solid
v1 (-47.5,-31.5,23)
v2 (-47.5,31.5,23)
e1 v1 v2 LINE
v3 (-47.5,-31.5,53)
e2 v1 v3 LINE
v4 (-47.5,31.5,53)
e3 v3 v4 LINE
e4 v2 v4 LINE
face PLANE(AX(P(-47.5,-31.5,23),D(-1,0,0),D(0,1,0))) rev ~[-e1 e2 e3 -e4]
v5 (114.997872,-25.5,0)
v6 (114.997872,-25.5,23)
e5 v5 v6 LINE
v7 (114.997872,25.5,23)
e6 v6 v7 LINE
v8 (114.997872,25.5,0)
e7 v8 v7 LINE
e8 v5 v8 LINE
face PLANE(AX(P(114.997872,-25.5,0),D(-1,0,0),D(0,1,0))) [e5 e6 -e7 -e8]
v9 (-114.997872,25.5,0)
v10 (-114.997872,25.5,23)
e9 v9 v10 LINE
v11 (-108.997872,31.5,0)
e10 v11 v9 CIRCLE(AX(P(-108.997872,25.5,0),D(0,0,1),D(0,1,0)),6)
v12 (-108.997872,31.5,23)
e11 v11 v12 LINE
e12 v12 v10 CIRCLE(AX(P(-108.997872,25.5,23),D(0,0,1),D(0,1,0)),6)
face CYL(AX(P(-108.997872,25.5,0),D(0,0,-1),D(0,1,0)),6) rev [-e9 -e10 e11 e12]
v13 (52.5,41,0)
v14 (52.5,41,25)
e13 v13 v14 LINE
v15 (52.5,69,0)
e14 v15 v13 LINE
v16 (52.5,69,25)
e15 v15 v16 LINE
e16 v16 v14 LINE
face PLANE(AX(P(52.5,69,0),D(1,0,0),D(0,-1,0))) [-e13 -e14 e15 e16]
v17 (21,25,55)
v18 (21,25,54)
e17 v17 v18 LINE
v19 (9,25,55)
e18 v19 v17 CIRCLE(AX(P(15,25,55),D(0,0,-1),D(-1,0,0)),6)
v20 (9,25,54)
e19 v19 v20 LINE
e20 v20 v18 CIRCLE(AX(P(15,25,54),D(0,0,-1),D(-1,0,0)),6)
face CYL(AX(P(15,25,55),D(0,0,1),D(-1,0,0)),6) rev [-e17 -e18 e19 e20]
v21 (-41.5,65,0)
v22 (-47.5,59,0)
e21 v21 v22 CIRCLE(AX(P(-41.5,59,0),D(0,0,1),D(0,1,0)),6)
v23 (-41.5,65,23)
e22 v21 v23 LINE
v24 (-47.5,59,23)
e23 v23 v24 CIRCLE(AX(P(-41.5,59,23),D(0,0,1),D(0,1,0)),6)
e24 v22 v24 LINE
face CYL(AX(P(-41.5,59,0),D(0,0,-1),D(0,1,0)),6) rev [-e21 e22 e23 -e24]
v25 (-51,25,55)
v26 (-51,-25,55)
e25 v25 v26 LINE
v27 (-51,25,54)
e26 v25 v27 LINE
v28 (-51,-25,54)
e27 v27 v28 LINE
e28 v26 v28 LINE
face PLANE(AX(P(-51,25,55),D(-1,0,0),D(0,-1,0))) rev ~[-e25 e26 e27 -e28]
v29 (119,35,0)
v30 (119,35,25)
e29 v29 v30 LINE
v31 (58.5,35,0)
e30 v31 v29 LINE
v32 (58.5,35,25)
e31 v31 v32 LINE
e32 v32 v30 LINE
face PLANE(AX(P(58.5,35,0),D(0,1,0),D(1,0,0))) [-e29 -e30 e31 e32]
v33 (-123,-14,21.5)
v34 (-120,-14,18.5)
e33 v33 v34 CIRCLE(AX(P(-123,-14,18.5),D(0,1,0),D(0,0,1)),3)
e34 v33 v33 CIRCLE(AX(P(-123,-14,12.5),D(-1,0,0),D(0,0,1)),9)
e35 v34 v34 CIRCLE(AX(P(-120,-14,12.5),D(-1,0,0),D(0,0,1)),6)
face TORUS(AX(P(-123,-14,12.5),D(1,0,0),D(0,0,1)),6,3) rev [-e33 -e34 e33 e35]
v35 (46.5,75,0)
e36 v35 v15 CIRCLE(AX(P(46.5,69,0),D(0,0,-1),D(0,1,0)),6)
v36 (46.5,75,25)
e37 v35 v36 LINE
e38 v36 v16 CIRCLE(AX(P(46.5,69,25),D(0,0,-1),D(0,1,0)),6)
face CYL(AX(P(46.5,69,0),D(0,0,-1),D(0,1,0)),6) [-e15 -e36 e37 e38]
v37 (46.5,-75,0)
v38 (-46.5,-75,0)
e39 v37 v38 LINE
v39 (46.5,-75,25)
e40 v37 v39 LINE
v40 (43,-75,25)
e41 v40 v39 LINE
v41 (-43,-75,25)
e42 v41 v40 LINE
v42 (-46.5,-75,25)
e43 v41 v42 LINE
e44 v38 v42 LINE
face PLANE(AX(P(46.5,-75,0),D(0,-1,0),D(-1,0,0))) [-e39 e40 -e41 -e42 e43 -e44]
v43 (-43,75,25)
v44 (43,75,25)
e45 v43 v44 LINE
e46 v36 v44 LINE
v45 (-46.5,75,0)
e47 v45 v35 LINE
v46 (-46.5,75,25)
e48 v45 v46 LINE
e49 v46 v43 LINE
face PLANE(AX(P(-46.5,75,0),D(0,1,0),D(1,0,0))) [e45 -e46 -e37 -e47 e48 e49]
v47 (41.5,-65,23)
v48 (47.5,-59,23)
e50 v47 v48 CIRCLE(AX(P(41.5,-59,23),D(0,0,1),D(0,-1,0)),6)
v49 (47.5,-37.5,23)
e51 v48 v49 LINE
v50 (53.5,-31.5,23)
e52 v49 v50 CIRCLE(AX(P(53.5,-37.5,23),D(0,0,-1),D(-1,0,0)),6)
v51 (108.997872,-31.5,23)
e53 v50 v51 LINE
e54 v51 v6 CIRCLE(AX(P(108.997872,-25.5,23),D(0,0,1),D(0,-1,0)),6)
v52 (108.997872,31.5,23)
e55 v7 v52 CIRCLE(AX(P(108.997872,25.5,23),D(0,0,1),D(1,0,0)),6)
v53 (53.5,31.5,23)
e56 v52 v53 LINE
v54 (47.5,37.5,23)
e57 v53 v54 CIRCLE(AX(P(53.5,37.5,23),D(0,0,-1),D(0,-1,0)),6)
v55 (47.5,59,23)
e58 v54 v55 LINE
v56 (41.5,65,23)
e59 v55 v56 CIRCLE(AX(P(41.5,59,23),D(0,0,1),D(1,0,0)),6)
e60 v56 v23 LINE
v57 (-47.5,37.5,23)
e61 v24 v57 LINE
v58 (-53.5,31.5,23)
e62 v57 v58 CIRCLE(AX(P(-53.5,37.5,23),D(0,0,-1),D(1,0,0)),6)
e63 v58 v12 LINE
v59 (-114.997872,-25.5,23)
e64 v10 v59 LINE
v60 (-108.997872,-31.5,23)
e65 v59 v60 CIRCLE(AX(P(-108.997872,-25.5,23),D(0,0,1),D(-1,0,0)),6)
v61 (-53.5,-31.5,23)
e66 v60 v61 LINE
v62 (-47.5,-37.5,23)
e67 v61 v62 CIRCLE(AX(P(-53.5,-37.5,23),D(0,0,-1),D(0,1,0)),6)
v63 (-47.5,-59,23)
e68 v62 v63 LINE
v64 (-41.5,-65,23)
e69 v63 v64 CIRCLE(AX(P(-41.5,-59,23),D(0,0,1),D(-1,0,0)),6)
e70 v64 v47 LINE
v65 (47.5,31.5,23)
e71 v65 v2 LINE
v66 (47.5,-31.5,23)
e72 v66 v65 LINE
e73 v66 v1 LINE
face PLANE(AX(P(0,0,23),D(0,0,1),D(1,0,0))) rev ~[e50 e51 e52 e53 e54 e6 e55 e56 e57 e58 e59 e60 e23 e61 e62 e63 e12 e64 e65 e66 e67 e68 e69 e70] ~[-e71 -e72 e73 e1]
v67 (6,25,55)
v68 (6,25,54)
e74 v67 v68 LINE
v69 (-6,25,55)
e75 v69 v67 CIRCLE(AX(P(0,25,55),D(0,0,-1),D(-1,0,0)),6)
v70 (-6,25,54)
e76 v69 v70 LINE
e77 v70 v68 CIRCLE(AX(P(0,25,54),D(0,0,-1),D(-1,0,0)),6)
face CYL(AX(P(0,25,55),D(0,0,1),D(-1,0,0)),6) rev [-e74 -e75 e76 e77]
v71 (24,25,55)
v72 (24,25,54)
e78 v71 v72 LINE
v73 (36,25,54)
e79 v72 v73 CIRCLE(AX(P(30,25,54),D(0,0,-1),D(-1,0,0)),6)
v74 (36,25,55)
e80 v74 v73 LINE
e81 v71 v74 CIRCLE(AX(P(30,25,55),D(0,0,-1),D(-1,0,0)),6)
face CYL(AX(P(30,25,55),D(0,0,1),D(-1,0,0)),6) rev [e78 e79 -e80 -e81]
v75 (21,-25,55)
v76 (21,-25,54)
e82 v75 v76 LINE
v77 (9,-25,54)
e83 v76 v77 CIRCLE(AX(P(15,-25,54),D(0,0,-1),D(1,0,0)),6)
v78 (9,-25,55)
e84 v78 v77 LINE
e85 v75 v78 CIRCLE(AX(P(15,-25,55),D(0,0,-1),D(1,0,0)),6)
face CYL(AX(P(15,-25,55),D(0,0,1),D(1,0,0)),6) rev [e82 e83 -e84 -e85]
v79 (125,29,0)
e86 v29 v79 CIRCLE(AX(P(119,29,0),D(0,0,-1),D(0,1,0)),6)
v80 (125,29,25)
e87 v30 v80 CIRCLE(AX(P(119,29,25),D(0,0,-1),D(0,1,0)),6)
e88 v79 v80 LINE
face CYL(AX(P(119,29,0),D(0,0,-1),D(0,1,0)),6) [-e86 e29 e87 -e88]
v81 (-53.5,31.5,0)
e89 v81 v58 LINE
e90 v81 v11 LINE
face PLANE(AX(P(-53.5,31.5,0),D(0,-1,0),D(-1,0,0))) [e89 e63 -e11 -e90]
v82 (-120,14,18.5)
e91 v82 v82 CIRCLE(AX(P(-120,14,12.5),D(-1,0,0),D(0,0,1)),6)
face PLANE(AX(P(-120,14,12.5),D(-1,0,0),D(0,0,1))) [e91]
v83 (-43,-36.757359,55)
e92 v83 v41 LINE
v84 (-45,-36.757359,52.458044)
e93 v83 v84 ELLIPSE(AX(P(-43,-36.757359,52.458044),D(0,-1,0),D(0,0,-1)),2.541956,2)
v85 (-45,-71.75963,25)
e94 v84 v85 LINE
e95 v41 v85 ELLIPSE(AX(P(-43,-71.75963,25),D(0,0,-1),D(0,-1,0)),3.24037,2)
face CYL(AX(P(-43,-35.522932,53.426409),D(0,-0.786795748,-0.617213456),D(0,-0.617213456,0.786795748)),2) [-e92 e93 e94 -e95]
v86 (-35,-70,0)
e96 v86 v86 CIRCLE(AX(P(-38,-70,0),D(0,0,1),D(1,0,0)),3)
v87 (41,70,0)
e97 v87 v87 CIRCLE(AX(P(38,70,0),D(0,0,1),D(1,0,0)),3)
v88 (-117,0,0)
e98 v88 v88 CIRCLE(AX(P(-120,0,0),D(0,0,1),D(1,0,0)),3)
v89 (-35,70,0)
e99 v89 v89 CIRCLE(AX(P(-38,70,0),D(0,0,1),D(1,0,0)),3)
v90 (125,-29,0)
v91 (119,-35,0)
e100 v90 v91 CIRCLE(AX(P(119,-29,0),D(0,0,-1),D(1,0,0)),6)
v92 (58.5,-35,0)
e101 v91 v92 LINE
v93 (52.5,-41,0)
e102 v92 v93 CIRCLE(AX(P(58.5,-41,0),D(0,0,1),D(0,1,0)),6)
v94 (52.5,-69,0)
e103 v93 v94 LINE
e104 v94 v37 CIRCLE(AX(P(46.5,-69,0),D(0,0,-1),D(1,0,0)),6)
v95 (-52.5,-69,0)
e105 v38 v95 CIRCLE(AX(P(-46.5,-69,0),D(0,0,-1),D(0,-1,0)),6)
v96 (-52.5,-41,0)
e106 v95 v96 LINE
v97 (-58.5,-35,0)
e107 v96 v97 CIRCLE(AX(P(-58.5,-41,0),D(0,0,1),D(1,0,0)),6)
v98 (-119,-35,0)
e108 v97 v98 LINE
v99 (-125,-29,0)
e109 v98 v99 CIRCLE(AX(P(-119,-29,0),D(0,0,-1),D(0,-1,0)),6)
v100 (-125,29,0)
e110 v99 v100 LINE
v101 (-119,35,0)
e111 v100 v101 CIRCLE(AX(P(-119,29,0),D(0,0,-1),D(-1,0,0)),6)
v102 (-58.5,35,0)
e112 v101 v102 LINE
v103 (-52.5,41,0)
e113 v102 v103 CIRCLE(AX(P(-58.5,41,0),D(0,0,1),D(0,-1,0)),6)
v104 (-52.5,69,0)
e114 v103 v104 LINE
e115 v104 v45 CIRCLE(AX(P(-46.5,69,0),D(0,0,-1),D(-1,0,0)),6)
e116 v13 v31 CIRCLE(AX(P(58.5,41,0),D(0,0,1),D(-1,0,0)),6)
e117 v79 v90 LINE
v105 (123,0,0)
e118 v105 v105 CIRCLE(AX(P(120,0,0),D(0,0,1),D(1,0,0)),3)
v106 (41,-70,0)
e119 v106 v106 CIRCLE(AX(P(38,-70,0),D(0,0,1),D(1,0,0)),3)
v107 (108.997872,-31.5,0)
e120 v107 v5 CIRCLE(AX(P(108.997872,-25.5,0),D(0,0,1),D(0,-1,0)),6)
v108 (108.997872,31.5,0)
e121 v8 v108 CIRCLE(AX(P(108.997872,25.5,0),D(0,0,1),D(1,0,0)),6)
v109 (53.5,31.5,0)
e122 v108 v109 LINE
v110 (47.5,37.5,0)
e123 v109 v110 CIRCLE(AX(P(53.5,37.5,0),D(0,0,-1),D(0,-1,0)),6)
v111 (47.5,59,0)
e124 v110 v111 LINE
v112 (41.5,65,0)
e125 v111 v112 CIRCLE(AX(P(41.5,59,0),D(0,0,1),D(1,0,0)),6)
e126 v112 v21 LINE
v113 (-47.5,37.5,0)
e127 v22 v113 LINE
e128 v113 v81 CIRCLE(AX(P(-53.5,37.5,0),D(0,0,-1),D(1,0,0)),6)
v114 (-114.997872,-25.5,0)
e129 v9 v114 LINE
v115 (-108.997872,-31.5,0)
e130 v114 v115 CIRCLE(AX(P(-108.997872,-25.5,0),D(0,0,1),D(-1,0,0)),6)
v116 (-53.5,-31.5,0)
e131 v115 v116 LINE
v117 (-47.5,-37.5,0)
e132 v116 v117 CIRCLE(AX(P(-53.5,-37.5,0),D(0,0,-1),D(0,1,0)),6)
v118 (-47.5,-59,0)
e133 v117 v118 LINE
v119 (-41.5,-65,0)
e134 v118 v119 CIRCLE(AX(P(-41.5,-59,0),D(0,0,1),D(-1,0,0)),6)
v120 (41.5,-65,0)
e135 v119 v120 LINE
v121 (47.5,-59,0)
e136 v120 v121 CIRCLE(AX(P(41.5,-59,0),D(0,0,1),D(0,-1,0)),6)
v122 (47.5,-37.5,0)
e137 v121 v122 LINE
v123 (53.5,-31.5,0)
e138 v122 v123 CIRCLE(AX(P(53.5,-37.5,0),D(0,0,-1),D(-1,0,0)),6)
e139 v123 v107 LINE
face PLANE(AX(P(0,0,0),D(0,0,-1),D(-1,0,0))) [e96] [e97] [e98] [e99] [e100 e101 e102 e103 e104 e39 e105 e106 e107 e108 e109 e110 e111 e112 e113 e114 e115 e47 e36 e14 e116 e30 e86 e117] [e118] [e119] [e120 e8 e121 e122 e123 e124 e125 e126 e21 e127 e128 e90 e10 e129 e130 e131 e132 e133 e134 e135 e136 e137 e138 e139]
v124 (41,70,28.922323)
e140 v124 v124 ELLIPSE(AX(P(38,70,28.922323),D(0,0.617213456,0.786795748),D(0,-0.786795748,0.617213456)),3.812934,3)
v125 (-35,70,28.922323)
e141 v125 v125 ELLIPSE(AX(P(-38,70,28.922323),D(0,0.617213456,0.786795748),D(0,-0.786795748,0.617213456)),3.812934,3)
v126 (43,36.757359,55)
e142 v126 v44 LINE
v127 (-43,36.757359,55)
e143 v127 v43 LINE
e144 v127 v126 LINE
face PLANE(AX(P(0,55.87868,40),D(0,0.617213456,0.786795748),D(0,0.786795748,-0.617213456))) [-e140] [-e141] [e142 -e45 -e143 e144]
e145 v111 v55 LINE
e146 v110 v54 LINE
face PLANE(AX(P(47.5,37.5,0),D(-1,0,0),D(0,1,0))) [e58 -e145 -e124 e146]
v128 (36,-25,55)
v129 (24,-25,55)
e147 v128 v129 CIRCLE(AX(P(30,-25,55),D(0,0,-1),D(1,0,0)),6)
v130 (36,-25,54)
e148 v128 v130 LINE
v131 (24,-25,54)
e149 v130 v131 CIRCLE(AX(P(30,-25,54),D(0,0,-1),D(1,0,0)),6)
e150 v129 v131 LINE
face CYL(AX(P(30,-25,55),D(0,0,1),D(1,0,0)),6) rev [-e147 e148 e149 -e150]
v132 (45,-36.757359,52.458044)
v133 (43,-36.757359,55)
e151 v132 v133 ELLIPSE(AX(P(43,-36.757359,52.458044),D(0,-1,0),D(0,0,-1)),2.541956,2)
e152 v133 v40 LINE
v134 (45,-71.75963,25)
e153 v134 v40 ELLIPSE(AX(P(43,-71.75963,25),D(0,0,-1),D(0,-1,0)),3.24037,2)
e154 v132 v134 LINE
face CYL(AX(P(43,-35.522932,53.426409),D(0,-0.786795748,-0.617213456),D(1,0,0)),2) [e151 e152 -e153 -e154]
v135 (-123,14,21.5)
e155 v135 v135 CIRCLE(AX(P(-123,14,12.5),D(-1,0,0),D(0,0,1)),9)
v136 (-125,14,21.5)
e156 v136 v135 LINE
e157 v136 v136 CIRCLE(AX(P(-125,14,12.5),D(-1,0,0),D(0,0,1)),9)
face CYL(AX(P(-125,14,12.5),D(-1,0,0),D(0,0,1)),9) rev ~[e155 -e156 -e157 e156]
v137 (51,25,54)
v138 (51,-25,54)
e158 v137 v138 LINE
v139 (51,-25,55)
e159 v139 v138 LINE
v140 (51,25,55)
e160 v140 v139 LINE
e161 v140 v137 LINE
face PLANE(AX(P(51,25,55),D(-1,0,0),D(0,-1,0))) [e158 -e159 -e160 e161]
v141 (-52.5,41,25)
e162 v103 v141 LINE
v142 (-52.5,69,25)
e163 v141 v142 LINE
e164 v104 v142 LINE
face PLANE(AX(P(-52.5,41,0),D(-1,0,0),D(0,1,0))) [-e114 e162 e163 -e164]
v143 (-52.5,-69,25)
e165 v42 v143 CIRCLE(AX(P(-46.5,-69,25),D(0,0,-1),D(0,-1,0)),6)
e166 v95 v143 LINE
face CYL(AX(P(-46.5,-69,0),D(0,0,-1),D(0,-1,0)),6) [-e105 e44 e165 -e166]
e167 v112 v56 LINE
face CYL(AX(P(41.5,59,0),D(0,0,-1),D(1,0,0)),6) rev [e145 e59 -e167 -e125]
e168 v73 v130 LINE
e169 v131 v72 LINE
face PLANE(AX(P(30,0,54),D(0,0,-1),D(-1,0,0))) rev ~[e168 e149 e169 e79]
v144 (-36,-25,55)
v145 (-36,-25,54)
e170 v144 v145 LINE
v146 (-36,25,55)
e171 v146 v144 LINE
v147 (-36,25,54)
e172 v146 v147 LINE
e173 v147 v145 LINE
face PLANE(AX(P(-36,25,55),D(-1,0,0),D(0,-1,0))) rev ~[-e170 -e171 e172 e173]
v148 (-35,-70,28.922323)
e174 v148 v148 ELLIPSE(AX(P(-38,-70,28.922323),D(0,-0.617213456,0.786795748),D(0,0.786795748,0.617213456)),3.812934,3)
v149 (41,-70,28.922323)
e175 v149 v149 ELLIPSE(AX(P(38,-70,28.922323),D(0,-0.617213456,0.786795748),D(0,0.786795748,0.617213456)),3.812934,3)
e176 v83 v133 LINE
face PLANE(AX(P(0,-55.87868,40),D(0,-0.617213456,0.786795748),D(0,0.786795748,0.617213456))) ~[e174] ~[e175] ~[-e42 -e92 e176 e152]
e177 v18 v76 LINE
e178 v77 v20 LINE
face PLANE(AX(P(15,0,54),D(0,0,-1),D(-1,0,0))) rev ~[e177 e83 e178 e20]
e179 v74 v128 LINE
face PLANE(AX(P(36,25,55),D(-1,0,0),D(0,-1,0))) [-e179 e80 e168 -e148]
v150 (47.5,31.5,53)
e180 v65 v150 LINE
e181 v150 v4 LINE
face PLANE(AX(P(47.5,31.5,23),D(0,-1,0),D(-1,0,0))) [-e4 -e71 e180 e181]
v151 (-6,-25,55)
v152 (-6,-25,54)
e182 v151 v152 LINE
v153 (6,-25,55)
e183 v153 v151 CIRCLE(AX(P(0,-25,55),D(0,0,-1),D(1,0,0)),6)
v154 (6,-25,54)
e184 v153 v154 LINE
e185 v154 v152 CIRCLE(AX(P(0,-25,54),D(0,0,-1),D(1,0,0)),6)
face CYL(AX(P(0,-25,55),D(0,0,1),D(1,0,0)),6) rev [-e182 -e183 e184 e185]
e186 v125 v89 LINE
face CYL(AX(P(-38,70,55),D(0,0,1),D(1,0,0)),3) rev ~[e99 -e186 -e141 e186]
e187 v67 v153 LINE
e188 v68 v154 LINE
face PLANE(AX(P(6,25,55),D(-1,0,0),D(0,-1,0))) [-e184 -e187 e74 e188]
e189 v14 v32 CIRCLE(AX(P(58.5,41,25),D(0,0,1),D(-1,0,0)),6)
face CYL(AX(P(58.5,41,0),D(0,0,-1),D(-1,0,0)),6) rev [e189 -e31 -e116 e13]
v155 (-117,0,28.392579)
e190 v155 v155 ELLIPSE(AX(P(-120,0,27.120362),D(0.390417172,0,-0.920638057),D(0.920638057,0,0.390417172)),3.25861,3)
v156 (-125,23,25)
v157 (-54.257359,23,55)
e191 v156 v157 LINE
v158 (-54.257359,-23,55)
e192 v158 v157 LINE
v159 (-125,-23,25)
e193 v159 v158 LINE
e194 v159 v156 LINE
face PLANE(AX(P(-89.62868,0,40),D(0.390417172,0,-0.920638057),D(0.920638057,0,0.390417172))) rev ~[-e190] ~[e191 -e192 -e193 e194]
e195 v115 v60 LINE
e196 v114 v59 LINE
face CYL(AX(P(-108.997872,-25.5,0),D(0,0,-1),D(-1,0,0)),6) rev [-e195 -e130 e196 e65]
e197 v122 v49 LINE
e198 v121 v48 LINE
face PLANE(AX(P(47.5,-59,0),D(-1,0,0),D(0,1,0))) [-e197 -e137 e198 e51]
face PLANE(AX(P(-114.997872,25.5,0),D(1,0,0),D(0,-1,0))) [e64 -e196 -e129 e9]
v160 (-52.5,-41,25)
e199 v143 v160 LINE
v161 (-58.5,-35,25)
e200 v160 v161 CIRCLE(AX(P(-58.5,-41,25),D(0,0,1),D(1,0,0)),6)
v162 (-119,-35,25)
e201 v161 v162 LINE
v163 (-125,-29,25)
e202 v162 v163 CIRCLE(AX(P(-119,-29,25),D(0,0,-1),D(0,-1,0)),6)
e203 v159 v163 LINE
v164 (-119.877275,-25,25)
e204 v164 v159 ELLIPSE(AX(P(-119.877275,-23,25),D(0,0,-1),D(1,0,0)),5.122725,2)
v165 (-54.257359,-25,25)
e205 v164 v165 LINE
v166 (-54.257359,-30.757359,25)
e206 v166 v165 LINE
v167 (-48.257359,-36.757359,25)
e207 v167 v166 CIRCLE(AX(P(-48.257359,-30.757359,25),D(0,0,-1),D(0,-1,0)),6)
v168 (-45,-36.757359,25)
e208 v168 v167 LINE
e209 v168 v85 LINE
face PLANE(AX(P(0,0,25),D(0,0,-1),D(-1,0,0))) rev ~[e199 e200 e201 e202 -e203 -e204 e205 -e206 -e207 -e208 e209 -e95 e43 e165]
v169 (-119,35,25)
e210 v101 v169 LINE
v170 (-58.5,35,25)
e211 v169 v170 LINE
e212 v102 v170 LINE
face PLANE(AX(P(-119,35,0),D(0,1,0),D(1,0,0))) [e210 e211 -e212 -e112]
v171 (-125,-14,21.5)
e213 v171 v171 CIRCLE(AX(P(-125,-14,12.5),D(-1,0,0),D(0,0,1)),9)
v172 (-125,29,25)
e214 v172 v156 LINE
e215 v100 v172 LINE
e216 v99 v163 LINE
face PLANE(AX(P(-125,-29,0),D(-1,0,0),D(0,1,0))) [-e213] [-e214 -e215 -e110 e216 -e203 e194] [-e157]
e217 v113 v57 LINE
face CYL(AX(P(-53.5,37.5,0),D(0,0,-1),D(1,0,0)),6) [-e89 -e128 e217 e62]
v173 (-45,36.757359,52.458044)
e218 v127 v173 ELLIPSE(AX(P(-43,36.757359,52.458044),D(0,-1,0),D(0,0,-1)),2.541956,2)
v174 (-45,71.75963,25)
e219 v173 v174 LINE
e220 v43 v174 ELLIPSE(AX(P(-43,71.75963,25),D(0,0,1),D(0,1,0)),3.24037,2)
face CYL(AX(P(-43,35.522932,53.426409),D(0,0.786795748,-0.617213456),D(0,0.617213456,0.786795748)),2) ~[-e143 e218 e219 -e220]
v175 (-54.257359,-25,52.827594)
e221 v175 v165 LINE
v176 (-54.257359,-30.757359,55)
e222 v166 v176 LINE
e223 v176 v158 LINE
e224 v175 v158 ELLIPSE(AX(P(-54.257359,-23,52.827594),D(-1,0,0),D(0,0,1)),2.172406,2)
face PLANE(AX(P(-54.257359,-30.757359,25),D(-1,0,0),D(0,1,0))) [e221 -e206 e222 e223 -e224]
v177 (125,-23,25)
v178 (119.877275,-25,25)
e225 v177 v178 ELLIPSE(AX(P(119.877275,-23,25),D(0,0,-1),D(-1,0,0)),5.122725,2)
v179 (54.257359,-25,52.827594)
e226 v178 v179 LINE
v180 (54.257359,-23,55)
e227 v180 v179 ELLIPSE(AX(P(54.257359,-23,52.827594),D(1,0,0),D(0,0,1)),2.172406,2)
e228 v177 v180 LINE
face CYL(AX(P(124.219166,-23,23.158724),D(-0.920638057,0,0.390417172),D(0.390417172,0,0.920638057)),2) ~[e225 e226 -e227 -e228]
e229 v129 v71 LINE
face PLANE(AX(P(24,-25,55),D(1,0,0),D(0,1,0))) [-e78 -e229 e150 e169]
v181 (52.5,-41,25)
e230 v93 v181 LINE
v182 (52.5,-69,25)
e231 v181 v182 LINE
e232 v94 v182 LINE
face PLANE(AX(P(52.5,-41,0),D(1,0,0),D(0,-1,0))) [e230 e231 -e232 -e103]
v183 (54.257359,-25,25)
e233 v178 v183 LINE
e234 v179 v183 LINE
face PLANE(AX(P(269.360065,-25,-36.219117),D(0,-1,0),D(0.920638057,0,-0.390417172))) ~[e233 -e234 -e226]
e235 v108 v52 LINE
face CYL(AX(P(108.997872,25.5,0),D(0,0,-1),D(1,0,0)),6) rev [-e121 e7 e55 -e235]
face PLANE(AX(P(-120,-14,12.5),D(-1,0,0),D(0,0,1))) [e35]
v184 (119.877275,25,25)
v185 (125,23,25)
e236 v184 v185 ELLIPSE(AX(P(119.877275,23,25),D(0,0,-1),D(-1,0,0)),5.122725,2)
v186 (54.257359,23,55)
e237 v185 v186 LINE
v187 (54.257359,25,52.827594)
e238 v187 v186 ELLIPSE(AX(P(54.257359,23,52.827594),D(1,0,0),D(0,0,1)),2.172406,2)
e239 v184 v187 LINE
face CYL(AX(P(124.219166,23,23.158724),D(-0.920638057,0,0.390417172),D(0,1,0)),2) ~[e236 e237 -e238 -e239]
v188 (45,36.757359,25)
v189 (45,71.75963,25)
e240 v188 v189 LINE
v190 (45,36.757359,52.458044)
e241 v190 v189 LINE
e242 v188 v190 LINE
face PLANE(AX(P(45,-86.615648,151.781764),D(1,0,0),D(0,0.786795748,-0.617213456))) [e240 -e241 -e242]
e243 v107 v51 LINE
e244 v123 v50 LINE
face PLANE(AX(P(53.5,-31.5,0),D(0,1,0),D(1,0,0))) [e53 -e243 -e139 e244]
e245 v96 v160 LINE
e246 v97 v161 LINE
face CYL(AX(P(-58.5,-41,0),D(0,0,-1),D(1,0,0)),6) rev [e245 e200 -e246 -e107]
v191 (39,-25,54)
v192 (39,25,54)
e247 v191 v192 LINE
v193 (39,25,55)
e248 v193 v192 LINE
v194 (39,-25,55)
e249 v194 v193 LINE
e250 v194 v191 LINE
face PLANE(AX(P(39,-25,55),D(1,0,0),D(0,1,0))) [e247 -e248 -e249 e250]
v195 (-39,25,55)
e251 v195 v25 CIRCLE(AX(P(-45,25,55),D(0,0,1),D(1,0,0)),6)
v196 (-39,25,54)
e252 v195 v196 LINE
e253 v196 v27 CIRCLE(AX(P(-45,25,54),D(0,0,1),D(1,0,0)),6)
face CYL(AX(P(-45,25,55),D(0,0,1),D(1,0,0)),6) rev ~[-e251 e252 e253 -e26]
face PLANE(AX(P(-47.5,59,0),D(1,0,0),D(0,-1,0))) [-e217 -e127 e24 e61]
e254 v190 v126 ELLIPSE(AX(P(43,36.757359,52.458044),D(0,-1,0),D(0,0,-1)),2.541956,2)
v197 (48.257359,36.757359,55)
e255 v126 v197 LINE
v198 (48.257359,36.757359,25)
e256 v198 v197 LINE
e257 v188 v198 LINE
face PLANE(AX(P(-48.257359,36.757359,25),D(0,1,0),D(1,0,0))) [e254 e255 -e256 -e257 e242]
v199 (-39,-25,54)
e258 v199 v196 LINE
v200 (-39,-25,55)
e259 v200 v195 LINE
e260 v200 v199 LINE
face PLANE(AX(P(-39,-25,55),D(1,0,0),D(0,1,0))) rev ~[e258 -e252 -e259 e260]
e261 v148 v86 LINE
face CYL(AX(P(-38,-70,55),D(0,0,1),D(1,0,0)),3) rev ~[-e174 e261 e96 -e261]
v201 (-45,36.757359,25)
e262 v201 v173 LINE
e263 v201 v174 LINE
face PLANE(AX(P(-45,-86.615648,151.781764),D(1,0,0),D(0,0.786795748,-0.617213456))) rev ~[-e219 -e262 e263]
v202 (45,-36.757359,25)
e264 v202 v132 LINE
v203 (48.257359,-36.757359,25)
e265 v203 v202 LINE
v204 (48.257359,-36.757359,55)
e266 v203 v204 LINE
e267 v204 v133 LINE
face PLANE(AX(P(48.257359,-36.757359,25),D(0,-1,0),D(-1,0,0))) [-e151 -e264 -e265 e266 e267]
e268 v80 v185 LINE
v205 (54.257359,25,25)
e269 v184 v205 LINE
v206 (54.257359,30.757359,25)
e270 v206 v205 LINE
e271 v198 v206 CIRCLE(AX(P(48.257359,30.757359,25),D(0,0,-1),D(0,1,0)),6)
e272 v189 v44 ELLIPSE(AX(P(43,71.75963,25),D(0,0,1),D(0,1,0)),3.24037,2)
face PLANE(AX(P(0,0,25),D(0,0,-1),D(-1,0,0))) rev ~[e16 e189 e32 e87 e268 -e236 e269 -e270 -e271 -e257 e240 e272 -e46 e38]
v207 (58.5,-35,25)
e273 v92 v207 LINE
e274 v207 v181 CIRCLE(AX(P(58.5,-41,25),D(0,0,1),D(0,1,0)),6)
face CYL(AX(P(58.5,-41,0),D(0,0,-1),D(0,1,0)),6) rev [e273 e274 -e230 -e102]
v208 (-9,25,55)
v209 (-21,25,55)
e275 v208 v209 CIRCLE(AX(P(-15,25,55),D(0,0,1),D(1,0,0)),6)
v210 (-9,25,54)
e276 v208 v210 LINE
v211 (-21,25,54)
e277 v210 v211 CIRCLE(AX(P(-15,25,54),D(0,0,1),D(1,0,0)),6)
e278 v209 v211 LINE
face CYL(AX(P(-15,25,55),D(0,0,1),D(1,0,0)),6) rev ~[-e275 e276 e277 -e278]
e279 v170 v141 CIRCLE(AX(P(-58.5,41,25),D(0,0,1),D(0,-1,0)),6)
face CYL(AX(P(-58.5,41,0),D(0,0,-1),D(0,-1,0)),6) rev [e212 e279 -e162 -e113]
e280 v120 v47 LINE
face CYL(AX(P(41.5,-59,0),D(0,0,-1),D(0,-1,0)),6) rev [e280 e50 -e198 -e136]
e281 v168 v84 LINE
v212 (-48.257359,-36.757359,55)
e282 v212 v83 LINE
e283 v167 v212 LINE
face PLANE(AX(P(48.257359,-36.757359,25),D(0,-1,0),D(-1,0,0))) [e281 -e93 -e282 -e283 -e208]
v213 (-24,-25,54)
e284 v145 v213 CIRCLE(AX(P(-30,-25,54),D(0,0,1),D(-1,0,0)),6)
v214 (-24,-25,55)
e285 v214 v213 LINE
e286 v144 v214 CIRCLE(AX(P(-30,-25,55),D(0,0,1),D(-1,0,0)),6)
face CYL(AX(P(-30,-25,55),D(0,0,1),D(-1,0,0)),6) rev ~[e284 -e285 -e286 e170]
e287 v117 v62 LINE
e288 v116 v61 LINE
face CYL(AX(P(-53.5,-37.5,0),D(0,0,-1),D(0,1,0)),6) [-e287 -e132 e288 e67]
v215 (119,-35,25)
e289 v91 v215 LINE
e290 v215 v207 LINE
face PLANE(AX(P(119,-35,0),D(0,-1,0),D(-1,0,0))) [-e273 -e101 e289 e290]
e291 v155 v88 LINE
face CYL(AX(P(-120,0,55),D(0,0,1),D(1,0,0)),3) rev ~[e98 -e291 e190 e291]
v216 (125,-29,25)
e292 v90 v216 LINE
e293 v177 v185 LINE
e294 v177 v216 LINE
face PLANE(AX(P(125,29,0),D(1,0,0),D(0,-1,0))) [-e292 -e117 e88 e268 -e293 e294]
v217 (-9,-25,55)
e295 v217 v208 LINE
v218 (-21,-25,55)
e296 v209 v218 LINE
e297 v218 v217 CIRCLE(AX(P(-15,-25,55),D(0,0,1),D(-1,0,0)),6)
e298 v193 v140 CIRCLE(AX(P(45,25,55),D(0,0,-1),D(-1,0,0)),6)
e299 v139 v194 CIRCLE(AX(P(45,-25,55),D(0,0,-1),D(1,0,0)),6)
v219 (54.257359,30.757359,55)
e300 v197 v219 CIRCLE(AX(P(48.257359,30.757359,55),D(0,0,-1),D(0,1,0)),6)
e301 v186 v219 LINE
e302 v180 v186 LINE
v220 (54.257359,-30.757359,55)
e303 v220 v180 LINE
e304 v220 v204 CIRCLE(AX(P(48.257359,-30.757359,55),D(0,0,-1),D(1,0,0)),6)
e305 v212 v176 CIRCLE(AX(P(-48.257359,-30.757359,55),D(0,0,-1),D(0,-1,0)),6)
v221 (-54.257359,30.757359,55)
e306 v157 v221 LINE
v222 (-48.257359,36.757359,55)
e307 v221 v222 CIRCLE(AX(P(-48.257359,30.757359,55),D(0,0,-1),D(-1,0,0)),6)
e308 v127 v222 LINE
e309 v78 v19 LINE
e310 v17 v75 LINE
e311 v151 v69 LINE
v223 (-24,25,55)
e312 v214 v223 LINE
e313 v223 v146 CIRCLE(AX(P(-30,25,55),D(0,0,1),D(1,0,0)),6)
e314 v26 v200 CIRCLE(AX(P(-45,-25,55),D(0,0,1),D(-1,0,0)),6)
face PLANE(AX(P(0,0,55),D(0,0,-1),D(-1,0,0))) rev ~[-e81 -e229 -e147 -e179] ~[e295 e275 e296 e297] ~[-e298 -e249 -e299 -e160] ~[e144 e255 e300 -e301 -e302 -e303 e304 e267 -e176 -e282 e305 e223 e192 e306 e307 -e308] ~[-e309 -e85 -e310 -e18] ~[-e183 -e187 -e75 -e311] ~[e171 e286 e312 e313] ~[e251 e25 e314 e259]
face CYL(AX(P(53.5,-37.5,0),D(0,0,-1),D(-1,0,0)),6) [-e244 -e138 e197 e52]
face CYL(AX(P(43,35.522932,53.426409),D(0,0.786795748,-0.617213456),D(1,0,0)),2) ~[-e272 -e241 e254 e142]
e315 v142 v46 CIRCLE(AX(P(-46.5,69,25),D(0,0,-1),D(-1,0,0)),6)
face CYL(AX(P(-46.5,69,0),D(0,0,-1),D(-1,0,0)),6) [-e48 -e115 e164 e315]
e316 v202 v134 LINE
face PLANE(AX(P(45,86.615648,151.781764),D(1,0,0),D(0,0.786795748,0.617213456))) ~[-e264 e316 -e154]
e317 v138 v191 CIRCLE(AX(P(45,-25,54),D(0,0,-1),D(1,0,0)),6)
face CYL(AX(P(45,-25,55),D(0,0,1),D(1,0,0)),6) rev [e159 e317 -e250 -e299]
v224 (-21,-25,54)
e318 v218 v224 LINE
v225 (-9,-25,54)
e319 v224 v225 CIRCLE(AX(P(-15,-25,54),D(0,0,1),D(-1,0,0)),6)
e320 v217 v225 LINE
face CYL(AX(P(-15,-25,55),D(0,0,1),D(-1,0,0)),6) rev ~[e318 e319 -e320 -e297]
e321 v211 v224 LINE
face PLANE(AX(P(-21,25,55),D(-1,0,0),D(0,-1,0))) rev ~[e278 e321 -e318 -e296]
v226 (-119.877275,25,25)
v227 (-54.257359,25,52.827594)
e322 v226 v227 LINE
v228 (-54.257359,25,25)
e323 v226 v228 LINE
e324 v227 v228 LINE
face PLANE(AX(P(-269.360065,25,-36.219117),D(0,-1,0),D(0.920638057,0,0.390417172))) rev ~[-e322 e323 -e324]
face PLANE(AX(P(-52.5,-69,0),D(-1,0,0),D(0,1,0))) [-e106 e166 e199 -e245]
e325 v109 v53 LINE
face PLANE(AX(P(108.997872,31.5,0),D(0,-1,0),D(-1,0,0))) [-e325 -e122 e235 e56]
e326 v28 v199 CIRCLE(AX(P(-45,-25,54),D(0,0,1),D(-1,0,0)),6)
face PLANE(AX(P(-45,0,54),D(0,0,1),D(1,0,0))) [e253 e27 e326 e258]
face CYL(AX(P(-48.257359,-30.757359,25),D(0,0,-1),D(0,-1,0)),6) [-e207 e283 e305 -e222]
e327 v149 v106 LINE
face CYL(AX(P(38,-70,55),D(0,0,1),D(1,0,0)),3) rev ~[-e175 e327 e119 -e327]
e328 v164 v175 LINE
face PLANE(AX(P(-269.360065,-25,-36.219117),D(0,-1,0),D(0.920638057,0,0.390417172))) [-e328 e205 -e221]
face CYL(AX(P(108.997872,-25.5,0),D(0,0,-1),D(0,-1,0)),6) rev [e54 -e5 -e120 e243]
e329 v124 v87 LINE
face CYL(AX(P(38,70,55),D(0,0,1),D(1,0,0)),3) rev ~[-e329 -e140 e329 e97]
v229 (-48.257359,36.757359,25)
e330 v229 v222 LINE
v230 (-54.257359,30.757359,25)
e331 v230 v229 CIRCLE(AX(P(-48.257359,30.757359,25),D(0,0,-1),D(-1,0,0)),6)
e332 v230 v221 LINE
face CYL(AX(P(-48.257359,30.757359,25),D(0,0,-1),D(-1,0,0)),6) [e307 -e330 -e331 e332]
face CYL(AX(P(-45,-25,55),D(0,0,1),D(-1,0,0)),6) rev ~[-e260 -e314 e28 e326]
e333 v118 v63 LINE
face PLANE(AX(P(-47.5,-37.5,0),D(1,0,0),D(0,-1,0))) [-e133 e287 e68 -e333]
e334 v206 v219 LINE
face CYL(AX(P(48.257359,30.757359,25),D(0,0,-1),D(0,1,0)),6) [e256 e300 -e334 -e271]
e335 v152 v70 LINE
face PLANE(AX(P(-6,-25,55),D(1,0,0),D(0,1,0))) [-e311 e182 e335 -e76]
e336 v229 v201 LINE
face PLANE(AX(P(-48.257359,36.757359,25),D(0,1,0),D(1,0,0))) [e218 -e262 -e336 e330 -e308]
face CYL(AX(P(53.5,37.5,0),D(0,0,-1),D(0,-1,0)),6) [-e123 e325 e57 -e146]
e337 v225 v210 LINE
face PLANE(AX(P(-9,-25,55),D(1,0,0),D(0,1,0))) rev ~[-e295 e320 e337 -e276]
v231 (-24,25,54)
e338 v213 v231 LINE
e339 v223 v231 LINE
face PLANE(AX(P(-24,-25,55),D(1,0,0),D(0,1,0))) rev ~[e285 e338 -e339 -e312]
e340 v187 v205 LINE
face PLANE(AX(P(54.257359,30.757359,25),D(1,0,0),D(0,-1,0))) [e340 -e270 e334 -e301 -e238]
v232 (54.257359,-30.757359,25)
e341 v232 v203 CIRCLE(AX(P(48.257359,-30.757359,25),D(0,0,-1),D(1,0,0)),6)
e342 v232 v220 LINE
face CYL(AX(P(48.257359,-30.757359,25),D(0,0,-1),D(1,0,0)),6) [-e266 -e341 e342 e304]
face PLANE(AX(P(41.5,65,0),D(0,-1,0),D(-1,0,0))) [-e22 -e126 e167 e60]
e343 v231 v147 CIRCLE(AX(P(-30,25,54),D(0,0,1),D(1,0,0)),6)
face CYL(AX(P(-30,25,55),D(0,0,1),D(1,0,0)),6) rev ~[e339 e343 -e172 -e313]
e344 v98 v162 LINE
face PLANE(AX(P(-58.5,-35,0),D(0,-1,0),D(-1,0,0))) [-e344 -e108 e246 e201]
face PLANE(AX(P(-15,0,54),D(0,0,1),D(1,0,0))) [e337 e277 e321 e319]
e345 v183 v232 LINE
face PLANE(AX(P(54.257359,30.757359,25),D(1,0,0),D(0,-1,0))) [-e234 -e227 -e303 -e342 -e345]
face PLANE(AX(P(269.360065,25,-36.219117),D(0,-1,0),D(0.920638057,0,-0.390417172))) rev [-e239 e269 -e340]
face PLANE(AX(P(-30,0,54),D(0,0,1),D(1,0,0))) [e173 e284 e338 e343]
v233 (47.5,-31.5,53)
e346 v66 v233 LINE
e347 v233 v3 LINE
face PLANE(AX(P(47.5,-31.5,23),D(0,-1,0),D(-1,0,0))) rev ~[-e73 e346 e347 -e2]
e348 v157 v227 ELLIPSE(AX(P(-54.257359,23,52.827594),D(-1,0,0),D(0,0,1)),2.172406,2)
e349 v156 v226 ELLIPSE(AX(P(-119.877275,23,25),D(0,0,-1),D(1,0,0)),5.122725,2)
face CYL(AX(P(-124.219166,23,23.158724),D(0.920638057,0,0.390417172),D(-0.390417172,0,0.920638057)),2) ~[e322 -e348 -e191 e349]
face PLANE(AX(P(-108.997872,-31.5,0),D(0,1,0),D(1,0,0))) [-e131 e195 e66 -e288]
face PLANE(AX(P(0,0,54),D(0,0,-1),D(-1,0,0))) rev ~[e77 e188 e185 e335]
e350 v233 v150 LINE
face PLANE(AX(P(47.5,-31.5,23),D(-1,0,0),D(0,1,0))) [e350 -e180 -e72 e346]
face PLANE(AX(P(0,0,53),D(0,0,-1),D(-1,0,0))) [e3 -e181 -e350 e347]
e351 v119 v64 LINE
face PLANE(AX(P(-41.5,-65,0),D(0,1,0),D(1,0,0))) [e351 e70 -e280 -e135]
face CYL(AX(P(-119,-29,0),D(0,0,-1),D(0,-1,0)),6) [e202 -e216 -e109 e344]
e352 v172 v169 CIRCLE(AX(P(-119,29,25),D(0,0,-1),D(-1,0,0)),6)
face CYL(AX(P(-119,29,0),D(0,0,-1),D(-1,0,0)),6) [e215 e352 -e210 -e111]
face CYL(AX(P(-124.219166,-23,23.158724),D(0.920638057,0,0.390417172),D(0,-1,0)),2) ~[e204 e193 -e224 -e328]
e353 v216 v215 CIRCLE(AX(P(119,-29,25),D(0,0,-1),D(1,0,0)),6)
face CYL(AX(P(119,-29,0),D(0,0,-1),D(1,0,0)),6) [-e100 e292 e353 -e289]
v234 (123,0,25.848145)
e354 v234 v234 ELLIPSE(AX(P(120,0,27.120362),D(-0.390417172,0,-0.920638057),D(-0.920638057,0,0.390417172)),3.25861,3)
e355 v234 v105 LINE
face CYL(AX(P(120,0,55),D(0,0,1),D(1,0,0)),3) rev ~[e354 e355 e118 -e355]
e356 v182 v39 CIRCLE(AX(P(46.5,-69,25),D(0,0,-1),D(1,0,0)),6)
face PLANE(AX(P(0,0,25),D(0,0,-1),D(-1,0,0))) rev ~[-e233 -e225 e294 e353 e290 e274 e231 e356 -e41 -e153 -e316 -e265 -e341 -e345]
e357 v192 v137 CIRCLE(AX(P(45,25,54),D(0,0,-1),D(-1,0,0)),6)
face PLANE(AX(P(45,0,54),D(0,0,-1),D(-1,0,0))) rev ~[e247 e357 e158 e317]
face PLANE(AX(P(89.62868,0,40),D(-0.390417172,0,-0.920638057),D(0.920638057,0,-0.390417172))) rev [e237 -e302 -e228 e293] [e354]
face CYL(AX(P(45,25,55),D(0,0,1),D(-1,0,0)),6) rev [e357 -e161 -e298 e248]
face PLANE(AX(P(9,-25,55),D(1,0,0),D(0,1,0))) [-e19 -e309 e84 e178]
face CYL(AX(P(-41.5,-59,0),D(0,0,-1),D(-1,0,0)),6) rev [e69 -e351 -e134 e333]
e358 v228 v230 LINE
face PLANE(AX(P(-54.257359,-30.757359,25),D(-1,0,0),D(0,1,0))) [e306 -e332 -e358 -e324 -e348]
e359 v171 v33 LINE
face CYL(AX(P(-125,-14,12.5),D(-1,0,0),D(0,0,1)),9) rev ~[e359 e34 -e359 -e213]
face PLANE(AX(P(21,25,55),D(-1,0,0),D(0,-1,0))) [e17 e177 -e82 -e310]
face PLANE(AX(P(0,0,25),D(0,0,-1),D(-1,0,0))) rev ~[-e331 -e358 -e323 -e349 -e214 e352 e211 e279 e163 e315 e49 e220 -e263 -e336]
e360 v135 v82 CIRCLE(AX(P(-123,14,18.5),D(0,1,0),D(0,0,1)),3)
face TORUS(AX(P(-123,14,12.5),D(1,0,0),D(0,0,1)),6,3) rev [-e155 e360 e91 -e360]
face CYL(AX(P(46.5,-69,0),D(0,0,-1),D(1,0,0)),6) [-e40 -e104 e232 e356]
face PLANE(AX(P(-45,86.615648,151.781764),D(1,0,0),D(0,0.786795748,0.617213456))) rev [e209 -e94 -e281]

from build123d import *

# Parameters (mm, degrees)
BOSS_EXTRUDE1_DEPTH  = 25
CUT_EXTRUDE1_DEPTH   = 23
BOSS_EXTRUDE2_DEPTH  = 30
RIB5_REACH           = 157.804
SKETCH9_WALL_W       = 390.44961144
SKETCH9_WALL_H       = 50
FILLET2_R            = 2
FILLET3_R            = 2
FILLET2_OF_MIRROR1_R = 2
FILLET3_OF_MIRROR1_R = 2
RIB6_REACH           = 157.804
SKETCH10_WALL_W      = 362.214279798
SKETCH10_WALL_H      = 90
FILLET4_R            = 2
FILLET4_OF_MIRROR3_R = 2
SKETCH11_W           = 95
SKETCH11_H           = 63
CUT_EXTRUDE2_DEPTH   = 30
CUT_EXTRUDE3_DEPTH   = 1
SKETCH14_R           = 9
CUT_EXTRUDE4_DEPTH   = 5
FILLET6_R            = 3
FILLET7_R            = 3
CUT_EXTRUDE5_REACH   = 157.804
SKETCH21_R           = 3


with BuildPart() as part:
    # Sketch1 → Boss-Extrude1 (new body)
    with BuildSketch(Plane.XY):
        with BuildLine():
            Line((-119, 35), (-58.5, 35))
            ThreePointArc((-58.5, 35), (-54.257359313, 36.757359313), (-52.5, 41))
            Line((-52.5, 41), (-52.5, 69))
            ThreePointArc((-52.5, 69), (-50.742640687, 73.242640687), (-46.5, 75))
            Line((-46.5, 75), (46.5, 75))
            ThreePointArc((46.5, 75), (50.742640687, 73.242640687), (52.5, 69))
            Line((52.5, 69), (52.5, 41))
            ThreePointArc((52.5, 41), (54.257359313, 36.757359313), (58.5, 35))
            Line((58.5, 35), (119, 35))
            ThreePointArc((119, 35), (123.242640687, 33.242640687), (125, 29))
            Line((125, 29), (125, -29))
            ThreePointArc((125, -29), (123.242640687, -33.242640687), (119, -35))
            Line((119, -35), (58.5, -35))
            ThreePointArc((58.5, -35), (54.257359313, -36.757359313), (52.5, -41))
            Line((52.5, -41), (52.5, -69))
            ThreePointArc((52.5, -69), (50.742640687, -73.242640687), (46.5, -75))
            Line((46.5, -75), (-46.5, -75))
            ThreePointArc((-46.5, -75), (-50.742640687, -73.242640687), (-52.5, -69))
            Line((-52.5, -69), (-52.5, -41))
            ThreePointArc((-52.5, -41), (-54.257359313, -36.757359313), (-58.5, -35))
            Line((-58.5, -35), (-119, -35))
            ThreePointArc((-119, -35), (-123.242640687, -33.242640687), (-125, -29))
            Line((-125, -29), (-125, 29))
            ThreePointArc((-125, 29), (-123.242640687, 33.242640687), (-119, 35))
        make_face()
    extrude(amount=BOSS_EXTRUDE1_DEPTH)

    # Sketch2 → Cut-Extrude1 (cut)
    with BuildSketch(Plane(origin=(0, 0, 0), x_dir=(-1, 0, 0), z_dir=(0, 0, -1))):
        with BuildLine():
            Line((41.5, -65), (-41.5, -65))
            ThreePointArc((-41.5, -65), (-45.742640687, -63.242640687), (-47.5, -59))
            Line((-47.5, -59), (-47.5, -37.5))
            ThreePointArc((-47.5, -37.5), (-49.257359313, -33.257359313), (-53.5, -31.5))
            Line((-53.5, -31.5), (-108.997872355, -31.5))
            ThreePointArc((-108.997872355, -31.5), (-113.240513042, -29.742640687), (-114.997872355, -25.5))
            Line((-114.997872355, -25.5), (-114.997872355, 25.5))
            ThreePointArc((-114.997872355, 25.5), (-113.240513042, 29.742640687), (-108.997872355, 31.5))
            Line((-108.997872355, 31.5), (-53.5, 31.5))
            ThreePointArc((-53.5, 31.5), (-49.257359313, 33.257359313), (-47.5, 37.5))
            Line((-47.5, 37.5), (-47.5, 59))
            ThreePointArc((-47.5, 59), (-45.742640687, 63.242640687), (-41.5, 65))
            Line((-41.5, 65), (41.5, 65))
            ThreePointArc((41.5, 65), (45.742640687, 63.242640687), (47.5, 59))
            Line((47.5, 59), (47.5, 37.5))
            ThreePointArc((47.5, 37.5), (49.257359313, 33.257359313), (53.5, 31.5))
            Line((53.5, 31.5), (108.997872355, 31.5))
            ThreePointArc((108.997872355, 31.5), (113.240513042, 29.742640687), (114.997872355, 25.5))
            Line((114.997872355, 25.5), (114.997872355, -25.5))
            ThreePointArc((114.997872355, -25.5), (113.240513042, -29.742640687), (108.997872355, -31.5))
            Line((108.997872355, -31.5), (53.5, -31.5))
            ThreePointArc((53.5, -31.5), (49.257359313, -33.257359313), (47.5, -37.5))
            Line((47.5, -37.5), (47.5, -59))
            ThreePointArc((47.5, -59), (45.742640687, -63.242640687), (41.5, -65))
        make_face()
    extrude(amount=-CUT_EXTRUDE1_DEPTH, mode=Mode.SUBTRACT)

    # Sketch3 → Boss-Extrude2 (add)
    with BuildSketch(Plane.XY.offset(25)):
        with BuildLine():
            Line((-48.257359313, 36.757359313), (48.257359313, 36.757359313))
            ThreePointArc((48.257359313, 36.757359313), (52.5, 35), (54.257359313, 30.757359313))
            Line((54.257359313, 30.757359313), (54.257359313, -30.757359313))
            ThreePointArc((54.257359313, -30.757359313), (52.5, -35), (48.257359313, -36.757359313))
            Line((48.257359313, -36.757359313), (-48.257359313, -36.757359313))
            ThreePointArc((-48.257359313, -36.757359313), (-52.5, -35), (-54.257359313, -30.757359313))
            Line((-54.257359313, -30.757359313), (-54.257359313, 30.757359313))
            ThreePointArc((-54.257359313, 30.757359313), (-52.5, 35), (-48.257359313, 36.757359313))
        make_face()
    extrude(amount=BOSS_EXTRUDE2_DEPTH)

    # Sketch9 wall → Rib5 (add, up to next)
    with BuildSketch(Plane(origin=(-89.628679656, 0, 40), x_dir=(0.920638056948, 0, 0.390417171881), z_dir=(0.390417171881, 0, -0.920638056948)), mode=Mode.PRIVATE) as rib5_sk1:
        Rectangle(SKETCH9_WALL_W, SKETCH9_WALL_H)
    rib5_tool1 = extrude(rib5_sk1.sketch, amount=RIB5_REACH, mode=Mode.PRIVATE) - part.part
    rib5 = rib5_tool1.solids().sort_by_distance((-89.628679656, 0, 40))[0]
    add(rib5)

    # Fillet2
    fillet2_edges = [part.edges().sort_by_distance(p)[0] for p in [
        (-89.628679656, -25, 40),
    ]]
    fillet(fillet2_edges, radius=FILLET2_R)

    # Fillet3
    fillet3_edges = [part.edges().sort_by_distance(p)[0] for p in [
        (-89.628679656, 25, 40),
    ]]
    fillet(fillet3_edges, radius=FILLET3_R)

    # Mirror1: Rib5 across plane
    add(rib5.mirror(Plane(origin=(0, 0, 0), x_dir=(0, 0, 1), z_dir=(1, 0, 0))))

    # Fillet2 of Mirror1
    fillet2_of_mirror1_edges = [part.edges().sort_by_distance(p)[0] for p in [
        (89.628679656, -25, 40),
    ]]
    fillet(fillet2_of_mirror1_edges, radius=FILLET2_OF_MIRROR1_R)

    # Fillet3 of Mirror1
    fillet3_of_mirror1_edges = [part.edges().sort_by_distance(p)[0] for p in [
        (89.628679656, 25, 40),
    ]]
    fillet(fillet3_of_mirror1_edges, radius=FILLET3_OF_MIRROR1_R)

    # Sketch10 wall → Rib6 (add, up to next)
    with BuildSketch(Plane(origin=(0, 55.878679656, 40), x_dir=(0, 0.78679574807, -0.617213456447), z_dir=(0, 0.617213456447, 0.78679574807)), mode=Mode.PRIVATE) as rib6_sk1:
        Rectangle(SKETCH10_WALL_W, SKETCH10_WALL_H)
    rib6_tool1 = extrude(rib6_sk1.sketch, amount=-RIB6_REACH, mode=Mode.PRIVATE) - part.part
    rib6 = rib6_tool1.solids().sort_by_distance((0, 55.878679656, 40))[0]
    add(rib6)

    # Fillet4
    fillet4_edges = [part.edges().sort_by_distance(p)[0] for p in [
        (45, 55.878679656, 40),
        (-45, 55.878679656, 40),
    ]]
    fillet(fillet4_edges, radius=FILLET4_R)

    # Mirror3: Rib6 across plane
    add(rib6.mirror(Plane.ZX))

    # Fillet4 of Mirror3
    fillet4_of_mirror3_edges = [part.edges().sort_by_distance(p)[0] for p in [
        (45, -55.878679656, 40),
        (-45, -55.878679656, 40),
    ]]
    fillet(fillet4_of_mirror3_edges, radius=FILLET4_OF_MIRROR3_R)

    # Sketch11 → Cut-Extrude2 (cut)
    with BuildSketch(Plane(origin=(0, 0, 23), x_dir=(-1, 0, 0), z_dir=(0, 0, -1))):
        Rectangle(SKETCH11_W, SKETCH11_H)
    extrude(amount=-CUT_EXTRUDE2_DEPTH, mode=Mode.SUBTRACT)

    # Sketch12 → Cut-Extrude3 (cut)
    with BuildSketch(Plane.XY.offset(55)):
        with BuildLine():
            Line((6, 25), (6, -25))
            ThreePointArc((6, -25), (0, -31), (-6, -25))
            Line((-6, -25), (-6, 25))
            ThreePointArc((-6, 25), (0, 31), (6, 25))
        make_face()
        with BuildLine():
            Line((21, 25), (21, -25))
            ThreePointArc((21, -25), (15, -31), (9, -25))
            Line((9, -25), (9, 25))
            ThreePointArc((9, 25), (15, 31), (21, 25))
        make_face()
        with BuildLine():
            Line((36, 25), (36, -25))
            ThreePointArc((36, -25), (30, -31), (24, -25))
            Line((24, -25), (24, 25))
            ThreePointArc((24, 25), (30, 31), (36, 25))
        make_face()
        with BuildLine():
            Line((51, 25), (51, -25))
            ThreePointArc((51, -25), (45, -31), (39, -25))
            Line((39, -25), (39, 25))
            ThreePointArc((39, 25), (45, 31), (51, 25))
        make_face()
        with BuildLine():
            Line((-51, 25), (-51, -25))
            ThreePointArc((-51, -25), (-45, -31), (-39, -25))
            Line((-39, -25), (-39, 25))
            ThreePointArc((-39, 25), (-45, 31), (-51, 25))
        make_face()
        with BuildLine():
            Line((-36, 25), (-36, -25))
            ThreePointArc((-36, -25), (-30, -31), (-24, -25))
            Line((-24, -25), (-24, 25))
            ThreePointArc((-24, 25), (-30, 31), (-36, 25))
        make_face()
        with BuildLine():
            Line((-21, 25), (-21, -25))
            ThreePointArc((-21, -25), (-15, -31), (-9, -25))
            Line((-9, -25), (-9, 25))
            ThreePointArc((-9, 25), (-15, 31), (-21, 25))
        make_face()
    extrude(amount=-CUT_EXTRUDE3_DEPTH, mode=Mode.SUBTRACT)

    # Sketch14 → Cut-Extrude4 (cut)
    with BuildSketch(Plane.ZY.offset(125)):
        with Locations((12.5, 14)):
            Circle(SKETCH14_R)
        with Locations((12.5, -14)):
            Circle(SKETCH14_R)
    extrude(amount=-CUT_EXTRUDE4_DEPTH, mode=Mode.SUBTRACT)

    # Fillet6
    fillet6_edges = [part.edges().sort_by_distance(p)[0] for p in [
        (-120, 14, 3.5),
    ]]
    fillet(fillet6_edges, radius=FILLET6_R)

    # Fillet7
    fillet7_edges = [part.edges().sort_by_distance(p)[0] for p in [
        (-120, -14, 3.5),
    ]]
    fillet(fillet7_edges, radius=FILLET7_R)

    # Sketch21 → Cut-Extrude5 (cut, up to next)
    with BuildSketch(Plane.XY.offset(55), mode=Mode.PRIVATE) as cut_extrude5_sk1:
        with Locations((-38, 70)):
            Circle(SKETCH21_R)
    cut_extrude5_tool1 = extrude(cut_extrude5_sk1.sketch, amount=-CUT_EXTRUDE5_REACH, mode=Mode.PRIVATE) & part.part
    # Sketch21 → Cut-Extrude5 (cut, up to next)
    with BuildSketch(Plane.XY.offset(55), mode=Mode.PRIVATE) as cut_extrude5_sk2:
        with Locations((38, 70)):
            Circle(SKETCH21_R)
    cut_extrude5_tool2 = extrude(cut_extrude5_sk2.sketch, amount=-CUT_EXTRUDE5_REACH, mode=Mode.PRIVATE) & part.part
    # Sketch21 → Cut-Extrude5 (cut, up to next)
    with BuildSketch(Plane.XY.offset(55), mode=Mode.PRIVATE) as cut_extrude5_sk3:
        with Locations((38, -70)):
            Circle(SKETCH21_R)
    cut_extrude5_tool3 = extrude(cut_extrude5_sk3.sketch, amount=-CUT_EXTRUDE5_REACH, mode=Mode.PRIVATE) & part.part
    # Sketch21 → Cut-Extrude5 (cut, up to next)
    with BuildSketch(Plane.XY.offset(55), mode=Mode.PRIVATE) as cut_extrude5_sk4:
        with Locations((-38, -70)):
            Circle(SKETCH21_R)
    cut_extrude5_tool4 = extrude(cut_extrude5_sk4.sketch, amount=-CUT_EXTRUDE5_REACH, mode=Mode.PRIVATE) & part.part
    # Sketch21 → Cut-Extrude5 (cut, up to next)
    with BuildSketch(Plane.XY.offset(55), mode=Mode.PRIVATE) as cut_extrude5_sk5:
        with Locations((-120, 0)):
            Circle(SKETCH21_R)
    cut_extrude5_tool5 = extrude(cut_extrude5_sk5.sketch, amount=-CUT_EXTRUDE5_REACH, mode=Mode.PRIVATE) & part.part
    # Sketch21 → Cut-Extrude5 (cut, up to next)
    with BuildSketch(Plane.XY.offset(55), mode=Mode.PRIVATE) as cut_extrude5_sk6:
        with Locations((120, 0)):
            Circle(SKETCH21_R)
    cut_extrude5_tool6 = extrude(cut_extrude5_sk6.sketch, amount=-CUT_EXTRUDE5_REACH, mode=Mode.PRIVATE) & part.part
    add(cut_extrude5_tool1.solids().sort_by_distance((-38, 70, 55))[0], mode=Mode.SUBTRACT)
    add(cut_extrude5_tool2.solids().sort_by_distance((38, 70, 55))[0], mode=Mode.SUBTRACT)
    add(cut_extrude5_tool3.solids().sort_by_distance((38, -70, 55))[0], mode=Mode.SUBTRACT)
    add(cut_extrude5_tool4.solids().sort_by_distance((-38, -70, 55))[0], mode=Mode.SUBTRACT)
    add(cut_extrude5_tool5.solids().sort_by_distance((-120, 0, 55))[0], mode=Mode.SUBTRACT)
    add(cut_extrude5_tool6.solids().sort_by_distance((120, 0, 55))[0], mode=Mode.SUBTRACT)


solid = part.part
